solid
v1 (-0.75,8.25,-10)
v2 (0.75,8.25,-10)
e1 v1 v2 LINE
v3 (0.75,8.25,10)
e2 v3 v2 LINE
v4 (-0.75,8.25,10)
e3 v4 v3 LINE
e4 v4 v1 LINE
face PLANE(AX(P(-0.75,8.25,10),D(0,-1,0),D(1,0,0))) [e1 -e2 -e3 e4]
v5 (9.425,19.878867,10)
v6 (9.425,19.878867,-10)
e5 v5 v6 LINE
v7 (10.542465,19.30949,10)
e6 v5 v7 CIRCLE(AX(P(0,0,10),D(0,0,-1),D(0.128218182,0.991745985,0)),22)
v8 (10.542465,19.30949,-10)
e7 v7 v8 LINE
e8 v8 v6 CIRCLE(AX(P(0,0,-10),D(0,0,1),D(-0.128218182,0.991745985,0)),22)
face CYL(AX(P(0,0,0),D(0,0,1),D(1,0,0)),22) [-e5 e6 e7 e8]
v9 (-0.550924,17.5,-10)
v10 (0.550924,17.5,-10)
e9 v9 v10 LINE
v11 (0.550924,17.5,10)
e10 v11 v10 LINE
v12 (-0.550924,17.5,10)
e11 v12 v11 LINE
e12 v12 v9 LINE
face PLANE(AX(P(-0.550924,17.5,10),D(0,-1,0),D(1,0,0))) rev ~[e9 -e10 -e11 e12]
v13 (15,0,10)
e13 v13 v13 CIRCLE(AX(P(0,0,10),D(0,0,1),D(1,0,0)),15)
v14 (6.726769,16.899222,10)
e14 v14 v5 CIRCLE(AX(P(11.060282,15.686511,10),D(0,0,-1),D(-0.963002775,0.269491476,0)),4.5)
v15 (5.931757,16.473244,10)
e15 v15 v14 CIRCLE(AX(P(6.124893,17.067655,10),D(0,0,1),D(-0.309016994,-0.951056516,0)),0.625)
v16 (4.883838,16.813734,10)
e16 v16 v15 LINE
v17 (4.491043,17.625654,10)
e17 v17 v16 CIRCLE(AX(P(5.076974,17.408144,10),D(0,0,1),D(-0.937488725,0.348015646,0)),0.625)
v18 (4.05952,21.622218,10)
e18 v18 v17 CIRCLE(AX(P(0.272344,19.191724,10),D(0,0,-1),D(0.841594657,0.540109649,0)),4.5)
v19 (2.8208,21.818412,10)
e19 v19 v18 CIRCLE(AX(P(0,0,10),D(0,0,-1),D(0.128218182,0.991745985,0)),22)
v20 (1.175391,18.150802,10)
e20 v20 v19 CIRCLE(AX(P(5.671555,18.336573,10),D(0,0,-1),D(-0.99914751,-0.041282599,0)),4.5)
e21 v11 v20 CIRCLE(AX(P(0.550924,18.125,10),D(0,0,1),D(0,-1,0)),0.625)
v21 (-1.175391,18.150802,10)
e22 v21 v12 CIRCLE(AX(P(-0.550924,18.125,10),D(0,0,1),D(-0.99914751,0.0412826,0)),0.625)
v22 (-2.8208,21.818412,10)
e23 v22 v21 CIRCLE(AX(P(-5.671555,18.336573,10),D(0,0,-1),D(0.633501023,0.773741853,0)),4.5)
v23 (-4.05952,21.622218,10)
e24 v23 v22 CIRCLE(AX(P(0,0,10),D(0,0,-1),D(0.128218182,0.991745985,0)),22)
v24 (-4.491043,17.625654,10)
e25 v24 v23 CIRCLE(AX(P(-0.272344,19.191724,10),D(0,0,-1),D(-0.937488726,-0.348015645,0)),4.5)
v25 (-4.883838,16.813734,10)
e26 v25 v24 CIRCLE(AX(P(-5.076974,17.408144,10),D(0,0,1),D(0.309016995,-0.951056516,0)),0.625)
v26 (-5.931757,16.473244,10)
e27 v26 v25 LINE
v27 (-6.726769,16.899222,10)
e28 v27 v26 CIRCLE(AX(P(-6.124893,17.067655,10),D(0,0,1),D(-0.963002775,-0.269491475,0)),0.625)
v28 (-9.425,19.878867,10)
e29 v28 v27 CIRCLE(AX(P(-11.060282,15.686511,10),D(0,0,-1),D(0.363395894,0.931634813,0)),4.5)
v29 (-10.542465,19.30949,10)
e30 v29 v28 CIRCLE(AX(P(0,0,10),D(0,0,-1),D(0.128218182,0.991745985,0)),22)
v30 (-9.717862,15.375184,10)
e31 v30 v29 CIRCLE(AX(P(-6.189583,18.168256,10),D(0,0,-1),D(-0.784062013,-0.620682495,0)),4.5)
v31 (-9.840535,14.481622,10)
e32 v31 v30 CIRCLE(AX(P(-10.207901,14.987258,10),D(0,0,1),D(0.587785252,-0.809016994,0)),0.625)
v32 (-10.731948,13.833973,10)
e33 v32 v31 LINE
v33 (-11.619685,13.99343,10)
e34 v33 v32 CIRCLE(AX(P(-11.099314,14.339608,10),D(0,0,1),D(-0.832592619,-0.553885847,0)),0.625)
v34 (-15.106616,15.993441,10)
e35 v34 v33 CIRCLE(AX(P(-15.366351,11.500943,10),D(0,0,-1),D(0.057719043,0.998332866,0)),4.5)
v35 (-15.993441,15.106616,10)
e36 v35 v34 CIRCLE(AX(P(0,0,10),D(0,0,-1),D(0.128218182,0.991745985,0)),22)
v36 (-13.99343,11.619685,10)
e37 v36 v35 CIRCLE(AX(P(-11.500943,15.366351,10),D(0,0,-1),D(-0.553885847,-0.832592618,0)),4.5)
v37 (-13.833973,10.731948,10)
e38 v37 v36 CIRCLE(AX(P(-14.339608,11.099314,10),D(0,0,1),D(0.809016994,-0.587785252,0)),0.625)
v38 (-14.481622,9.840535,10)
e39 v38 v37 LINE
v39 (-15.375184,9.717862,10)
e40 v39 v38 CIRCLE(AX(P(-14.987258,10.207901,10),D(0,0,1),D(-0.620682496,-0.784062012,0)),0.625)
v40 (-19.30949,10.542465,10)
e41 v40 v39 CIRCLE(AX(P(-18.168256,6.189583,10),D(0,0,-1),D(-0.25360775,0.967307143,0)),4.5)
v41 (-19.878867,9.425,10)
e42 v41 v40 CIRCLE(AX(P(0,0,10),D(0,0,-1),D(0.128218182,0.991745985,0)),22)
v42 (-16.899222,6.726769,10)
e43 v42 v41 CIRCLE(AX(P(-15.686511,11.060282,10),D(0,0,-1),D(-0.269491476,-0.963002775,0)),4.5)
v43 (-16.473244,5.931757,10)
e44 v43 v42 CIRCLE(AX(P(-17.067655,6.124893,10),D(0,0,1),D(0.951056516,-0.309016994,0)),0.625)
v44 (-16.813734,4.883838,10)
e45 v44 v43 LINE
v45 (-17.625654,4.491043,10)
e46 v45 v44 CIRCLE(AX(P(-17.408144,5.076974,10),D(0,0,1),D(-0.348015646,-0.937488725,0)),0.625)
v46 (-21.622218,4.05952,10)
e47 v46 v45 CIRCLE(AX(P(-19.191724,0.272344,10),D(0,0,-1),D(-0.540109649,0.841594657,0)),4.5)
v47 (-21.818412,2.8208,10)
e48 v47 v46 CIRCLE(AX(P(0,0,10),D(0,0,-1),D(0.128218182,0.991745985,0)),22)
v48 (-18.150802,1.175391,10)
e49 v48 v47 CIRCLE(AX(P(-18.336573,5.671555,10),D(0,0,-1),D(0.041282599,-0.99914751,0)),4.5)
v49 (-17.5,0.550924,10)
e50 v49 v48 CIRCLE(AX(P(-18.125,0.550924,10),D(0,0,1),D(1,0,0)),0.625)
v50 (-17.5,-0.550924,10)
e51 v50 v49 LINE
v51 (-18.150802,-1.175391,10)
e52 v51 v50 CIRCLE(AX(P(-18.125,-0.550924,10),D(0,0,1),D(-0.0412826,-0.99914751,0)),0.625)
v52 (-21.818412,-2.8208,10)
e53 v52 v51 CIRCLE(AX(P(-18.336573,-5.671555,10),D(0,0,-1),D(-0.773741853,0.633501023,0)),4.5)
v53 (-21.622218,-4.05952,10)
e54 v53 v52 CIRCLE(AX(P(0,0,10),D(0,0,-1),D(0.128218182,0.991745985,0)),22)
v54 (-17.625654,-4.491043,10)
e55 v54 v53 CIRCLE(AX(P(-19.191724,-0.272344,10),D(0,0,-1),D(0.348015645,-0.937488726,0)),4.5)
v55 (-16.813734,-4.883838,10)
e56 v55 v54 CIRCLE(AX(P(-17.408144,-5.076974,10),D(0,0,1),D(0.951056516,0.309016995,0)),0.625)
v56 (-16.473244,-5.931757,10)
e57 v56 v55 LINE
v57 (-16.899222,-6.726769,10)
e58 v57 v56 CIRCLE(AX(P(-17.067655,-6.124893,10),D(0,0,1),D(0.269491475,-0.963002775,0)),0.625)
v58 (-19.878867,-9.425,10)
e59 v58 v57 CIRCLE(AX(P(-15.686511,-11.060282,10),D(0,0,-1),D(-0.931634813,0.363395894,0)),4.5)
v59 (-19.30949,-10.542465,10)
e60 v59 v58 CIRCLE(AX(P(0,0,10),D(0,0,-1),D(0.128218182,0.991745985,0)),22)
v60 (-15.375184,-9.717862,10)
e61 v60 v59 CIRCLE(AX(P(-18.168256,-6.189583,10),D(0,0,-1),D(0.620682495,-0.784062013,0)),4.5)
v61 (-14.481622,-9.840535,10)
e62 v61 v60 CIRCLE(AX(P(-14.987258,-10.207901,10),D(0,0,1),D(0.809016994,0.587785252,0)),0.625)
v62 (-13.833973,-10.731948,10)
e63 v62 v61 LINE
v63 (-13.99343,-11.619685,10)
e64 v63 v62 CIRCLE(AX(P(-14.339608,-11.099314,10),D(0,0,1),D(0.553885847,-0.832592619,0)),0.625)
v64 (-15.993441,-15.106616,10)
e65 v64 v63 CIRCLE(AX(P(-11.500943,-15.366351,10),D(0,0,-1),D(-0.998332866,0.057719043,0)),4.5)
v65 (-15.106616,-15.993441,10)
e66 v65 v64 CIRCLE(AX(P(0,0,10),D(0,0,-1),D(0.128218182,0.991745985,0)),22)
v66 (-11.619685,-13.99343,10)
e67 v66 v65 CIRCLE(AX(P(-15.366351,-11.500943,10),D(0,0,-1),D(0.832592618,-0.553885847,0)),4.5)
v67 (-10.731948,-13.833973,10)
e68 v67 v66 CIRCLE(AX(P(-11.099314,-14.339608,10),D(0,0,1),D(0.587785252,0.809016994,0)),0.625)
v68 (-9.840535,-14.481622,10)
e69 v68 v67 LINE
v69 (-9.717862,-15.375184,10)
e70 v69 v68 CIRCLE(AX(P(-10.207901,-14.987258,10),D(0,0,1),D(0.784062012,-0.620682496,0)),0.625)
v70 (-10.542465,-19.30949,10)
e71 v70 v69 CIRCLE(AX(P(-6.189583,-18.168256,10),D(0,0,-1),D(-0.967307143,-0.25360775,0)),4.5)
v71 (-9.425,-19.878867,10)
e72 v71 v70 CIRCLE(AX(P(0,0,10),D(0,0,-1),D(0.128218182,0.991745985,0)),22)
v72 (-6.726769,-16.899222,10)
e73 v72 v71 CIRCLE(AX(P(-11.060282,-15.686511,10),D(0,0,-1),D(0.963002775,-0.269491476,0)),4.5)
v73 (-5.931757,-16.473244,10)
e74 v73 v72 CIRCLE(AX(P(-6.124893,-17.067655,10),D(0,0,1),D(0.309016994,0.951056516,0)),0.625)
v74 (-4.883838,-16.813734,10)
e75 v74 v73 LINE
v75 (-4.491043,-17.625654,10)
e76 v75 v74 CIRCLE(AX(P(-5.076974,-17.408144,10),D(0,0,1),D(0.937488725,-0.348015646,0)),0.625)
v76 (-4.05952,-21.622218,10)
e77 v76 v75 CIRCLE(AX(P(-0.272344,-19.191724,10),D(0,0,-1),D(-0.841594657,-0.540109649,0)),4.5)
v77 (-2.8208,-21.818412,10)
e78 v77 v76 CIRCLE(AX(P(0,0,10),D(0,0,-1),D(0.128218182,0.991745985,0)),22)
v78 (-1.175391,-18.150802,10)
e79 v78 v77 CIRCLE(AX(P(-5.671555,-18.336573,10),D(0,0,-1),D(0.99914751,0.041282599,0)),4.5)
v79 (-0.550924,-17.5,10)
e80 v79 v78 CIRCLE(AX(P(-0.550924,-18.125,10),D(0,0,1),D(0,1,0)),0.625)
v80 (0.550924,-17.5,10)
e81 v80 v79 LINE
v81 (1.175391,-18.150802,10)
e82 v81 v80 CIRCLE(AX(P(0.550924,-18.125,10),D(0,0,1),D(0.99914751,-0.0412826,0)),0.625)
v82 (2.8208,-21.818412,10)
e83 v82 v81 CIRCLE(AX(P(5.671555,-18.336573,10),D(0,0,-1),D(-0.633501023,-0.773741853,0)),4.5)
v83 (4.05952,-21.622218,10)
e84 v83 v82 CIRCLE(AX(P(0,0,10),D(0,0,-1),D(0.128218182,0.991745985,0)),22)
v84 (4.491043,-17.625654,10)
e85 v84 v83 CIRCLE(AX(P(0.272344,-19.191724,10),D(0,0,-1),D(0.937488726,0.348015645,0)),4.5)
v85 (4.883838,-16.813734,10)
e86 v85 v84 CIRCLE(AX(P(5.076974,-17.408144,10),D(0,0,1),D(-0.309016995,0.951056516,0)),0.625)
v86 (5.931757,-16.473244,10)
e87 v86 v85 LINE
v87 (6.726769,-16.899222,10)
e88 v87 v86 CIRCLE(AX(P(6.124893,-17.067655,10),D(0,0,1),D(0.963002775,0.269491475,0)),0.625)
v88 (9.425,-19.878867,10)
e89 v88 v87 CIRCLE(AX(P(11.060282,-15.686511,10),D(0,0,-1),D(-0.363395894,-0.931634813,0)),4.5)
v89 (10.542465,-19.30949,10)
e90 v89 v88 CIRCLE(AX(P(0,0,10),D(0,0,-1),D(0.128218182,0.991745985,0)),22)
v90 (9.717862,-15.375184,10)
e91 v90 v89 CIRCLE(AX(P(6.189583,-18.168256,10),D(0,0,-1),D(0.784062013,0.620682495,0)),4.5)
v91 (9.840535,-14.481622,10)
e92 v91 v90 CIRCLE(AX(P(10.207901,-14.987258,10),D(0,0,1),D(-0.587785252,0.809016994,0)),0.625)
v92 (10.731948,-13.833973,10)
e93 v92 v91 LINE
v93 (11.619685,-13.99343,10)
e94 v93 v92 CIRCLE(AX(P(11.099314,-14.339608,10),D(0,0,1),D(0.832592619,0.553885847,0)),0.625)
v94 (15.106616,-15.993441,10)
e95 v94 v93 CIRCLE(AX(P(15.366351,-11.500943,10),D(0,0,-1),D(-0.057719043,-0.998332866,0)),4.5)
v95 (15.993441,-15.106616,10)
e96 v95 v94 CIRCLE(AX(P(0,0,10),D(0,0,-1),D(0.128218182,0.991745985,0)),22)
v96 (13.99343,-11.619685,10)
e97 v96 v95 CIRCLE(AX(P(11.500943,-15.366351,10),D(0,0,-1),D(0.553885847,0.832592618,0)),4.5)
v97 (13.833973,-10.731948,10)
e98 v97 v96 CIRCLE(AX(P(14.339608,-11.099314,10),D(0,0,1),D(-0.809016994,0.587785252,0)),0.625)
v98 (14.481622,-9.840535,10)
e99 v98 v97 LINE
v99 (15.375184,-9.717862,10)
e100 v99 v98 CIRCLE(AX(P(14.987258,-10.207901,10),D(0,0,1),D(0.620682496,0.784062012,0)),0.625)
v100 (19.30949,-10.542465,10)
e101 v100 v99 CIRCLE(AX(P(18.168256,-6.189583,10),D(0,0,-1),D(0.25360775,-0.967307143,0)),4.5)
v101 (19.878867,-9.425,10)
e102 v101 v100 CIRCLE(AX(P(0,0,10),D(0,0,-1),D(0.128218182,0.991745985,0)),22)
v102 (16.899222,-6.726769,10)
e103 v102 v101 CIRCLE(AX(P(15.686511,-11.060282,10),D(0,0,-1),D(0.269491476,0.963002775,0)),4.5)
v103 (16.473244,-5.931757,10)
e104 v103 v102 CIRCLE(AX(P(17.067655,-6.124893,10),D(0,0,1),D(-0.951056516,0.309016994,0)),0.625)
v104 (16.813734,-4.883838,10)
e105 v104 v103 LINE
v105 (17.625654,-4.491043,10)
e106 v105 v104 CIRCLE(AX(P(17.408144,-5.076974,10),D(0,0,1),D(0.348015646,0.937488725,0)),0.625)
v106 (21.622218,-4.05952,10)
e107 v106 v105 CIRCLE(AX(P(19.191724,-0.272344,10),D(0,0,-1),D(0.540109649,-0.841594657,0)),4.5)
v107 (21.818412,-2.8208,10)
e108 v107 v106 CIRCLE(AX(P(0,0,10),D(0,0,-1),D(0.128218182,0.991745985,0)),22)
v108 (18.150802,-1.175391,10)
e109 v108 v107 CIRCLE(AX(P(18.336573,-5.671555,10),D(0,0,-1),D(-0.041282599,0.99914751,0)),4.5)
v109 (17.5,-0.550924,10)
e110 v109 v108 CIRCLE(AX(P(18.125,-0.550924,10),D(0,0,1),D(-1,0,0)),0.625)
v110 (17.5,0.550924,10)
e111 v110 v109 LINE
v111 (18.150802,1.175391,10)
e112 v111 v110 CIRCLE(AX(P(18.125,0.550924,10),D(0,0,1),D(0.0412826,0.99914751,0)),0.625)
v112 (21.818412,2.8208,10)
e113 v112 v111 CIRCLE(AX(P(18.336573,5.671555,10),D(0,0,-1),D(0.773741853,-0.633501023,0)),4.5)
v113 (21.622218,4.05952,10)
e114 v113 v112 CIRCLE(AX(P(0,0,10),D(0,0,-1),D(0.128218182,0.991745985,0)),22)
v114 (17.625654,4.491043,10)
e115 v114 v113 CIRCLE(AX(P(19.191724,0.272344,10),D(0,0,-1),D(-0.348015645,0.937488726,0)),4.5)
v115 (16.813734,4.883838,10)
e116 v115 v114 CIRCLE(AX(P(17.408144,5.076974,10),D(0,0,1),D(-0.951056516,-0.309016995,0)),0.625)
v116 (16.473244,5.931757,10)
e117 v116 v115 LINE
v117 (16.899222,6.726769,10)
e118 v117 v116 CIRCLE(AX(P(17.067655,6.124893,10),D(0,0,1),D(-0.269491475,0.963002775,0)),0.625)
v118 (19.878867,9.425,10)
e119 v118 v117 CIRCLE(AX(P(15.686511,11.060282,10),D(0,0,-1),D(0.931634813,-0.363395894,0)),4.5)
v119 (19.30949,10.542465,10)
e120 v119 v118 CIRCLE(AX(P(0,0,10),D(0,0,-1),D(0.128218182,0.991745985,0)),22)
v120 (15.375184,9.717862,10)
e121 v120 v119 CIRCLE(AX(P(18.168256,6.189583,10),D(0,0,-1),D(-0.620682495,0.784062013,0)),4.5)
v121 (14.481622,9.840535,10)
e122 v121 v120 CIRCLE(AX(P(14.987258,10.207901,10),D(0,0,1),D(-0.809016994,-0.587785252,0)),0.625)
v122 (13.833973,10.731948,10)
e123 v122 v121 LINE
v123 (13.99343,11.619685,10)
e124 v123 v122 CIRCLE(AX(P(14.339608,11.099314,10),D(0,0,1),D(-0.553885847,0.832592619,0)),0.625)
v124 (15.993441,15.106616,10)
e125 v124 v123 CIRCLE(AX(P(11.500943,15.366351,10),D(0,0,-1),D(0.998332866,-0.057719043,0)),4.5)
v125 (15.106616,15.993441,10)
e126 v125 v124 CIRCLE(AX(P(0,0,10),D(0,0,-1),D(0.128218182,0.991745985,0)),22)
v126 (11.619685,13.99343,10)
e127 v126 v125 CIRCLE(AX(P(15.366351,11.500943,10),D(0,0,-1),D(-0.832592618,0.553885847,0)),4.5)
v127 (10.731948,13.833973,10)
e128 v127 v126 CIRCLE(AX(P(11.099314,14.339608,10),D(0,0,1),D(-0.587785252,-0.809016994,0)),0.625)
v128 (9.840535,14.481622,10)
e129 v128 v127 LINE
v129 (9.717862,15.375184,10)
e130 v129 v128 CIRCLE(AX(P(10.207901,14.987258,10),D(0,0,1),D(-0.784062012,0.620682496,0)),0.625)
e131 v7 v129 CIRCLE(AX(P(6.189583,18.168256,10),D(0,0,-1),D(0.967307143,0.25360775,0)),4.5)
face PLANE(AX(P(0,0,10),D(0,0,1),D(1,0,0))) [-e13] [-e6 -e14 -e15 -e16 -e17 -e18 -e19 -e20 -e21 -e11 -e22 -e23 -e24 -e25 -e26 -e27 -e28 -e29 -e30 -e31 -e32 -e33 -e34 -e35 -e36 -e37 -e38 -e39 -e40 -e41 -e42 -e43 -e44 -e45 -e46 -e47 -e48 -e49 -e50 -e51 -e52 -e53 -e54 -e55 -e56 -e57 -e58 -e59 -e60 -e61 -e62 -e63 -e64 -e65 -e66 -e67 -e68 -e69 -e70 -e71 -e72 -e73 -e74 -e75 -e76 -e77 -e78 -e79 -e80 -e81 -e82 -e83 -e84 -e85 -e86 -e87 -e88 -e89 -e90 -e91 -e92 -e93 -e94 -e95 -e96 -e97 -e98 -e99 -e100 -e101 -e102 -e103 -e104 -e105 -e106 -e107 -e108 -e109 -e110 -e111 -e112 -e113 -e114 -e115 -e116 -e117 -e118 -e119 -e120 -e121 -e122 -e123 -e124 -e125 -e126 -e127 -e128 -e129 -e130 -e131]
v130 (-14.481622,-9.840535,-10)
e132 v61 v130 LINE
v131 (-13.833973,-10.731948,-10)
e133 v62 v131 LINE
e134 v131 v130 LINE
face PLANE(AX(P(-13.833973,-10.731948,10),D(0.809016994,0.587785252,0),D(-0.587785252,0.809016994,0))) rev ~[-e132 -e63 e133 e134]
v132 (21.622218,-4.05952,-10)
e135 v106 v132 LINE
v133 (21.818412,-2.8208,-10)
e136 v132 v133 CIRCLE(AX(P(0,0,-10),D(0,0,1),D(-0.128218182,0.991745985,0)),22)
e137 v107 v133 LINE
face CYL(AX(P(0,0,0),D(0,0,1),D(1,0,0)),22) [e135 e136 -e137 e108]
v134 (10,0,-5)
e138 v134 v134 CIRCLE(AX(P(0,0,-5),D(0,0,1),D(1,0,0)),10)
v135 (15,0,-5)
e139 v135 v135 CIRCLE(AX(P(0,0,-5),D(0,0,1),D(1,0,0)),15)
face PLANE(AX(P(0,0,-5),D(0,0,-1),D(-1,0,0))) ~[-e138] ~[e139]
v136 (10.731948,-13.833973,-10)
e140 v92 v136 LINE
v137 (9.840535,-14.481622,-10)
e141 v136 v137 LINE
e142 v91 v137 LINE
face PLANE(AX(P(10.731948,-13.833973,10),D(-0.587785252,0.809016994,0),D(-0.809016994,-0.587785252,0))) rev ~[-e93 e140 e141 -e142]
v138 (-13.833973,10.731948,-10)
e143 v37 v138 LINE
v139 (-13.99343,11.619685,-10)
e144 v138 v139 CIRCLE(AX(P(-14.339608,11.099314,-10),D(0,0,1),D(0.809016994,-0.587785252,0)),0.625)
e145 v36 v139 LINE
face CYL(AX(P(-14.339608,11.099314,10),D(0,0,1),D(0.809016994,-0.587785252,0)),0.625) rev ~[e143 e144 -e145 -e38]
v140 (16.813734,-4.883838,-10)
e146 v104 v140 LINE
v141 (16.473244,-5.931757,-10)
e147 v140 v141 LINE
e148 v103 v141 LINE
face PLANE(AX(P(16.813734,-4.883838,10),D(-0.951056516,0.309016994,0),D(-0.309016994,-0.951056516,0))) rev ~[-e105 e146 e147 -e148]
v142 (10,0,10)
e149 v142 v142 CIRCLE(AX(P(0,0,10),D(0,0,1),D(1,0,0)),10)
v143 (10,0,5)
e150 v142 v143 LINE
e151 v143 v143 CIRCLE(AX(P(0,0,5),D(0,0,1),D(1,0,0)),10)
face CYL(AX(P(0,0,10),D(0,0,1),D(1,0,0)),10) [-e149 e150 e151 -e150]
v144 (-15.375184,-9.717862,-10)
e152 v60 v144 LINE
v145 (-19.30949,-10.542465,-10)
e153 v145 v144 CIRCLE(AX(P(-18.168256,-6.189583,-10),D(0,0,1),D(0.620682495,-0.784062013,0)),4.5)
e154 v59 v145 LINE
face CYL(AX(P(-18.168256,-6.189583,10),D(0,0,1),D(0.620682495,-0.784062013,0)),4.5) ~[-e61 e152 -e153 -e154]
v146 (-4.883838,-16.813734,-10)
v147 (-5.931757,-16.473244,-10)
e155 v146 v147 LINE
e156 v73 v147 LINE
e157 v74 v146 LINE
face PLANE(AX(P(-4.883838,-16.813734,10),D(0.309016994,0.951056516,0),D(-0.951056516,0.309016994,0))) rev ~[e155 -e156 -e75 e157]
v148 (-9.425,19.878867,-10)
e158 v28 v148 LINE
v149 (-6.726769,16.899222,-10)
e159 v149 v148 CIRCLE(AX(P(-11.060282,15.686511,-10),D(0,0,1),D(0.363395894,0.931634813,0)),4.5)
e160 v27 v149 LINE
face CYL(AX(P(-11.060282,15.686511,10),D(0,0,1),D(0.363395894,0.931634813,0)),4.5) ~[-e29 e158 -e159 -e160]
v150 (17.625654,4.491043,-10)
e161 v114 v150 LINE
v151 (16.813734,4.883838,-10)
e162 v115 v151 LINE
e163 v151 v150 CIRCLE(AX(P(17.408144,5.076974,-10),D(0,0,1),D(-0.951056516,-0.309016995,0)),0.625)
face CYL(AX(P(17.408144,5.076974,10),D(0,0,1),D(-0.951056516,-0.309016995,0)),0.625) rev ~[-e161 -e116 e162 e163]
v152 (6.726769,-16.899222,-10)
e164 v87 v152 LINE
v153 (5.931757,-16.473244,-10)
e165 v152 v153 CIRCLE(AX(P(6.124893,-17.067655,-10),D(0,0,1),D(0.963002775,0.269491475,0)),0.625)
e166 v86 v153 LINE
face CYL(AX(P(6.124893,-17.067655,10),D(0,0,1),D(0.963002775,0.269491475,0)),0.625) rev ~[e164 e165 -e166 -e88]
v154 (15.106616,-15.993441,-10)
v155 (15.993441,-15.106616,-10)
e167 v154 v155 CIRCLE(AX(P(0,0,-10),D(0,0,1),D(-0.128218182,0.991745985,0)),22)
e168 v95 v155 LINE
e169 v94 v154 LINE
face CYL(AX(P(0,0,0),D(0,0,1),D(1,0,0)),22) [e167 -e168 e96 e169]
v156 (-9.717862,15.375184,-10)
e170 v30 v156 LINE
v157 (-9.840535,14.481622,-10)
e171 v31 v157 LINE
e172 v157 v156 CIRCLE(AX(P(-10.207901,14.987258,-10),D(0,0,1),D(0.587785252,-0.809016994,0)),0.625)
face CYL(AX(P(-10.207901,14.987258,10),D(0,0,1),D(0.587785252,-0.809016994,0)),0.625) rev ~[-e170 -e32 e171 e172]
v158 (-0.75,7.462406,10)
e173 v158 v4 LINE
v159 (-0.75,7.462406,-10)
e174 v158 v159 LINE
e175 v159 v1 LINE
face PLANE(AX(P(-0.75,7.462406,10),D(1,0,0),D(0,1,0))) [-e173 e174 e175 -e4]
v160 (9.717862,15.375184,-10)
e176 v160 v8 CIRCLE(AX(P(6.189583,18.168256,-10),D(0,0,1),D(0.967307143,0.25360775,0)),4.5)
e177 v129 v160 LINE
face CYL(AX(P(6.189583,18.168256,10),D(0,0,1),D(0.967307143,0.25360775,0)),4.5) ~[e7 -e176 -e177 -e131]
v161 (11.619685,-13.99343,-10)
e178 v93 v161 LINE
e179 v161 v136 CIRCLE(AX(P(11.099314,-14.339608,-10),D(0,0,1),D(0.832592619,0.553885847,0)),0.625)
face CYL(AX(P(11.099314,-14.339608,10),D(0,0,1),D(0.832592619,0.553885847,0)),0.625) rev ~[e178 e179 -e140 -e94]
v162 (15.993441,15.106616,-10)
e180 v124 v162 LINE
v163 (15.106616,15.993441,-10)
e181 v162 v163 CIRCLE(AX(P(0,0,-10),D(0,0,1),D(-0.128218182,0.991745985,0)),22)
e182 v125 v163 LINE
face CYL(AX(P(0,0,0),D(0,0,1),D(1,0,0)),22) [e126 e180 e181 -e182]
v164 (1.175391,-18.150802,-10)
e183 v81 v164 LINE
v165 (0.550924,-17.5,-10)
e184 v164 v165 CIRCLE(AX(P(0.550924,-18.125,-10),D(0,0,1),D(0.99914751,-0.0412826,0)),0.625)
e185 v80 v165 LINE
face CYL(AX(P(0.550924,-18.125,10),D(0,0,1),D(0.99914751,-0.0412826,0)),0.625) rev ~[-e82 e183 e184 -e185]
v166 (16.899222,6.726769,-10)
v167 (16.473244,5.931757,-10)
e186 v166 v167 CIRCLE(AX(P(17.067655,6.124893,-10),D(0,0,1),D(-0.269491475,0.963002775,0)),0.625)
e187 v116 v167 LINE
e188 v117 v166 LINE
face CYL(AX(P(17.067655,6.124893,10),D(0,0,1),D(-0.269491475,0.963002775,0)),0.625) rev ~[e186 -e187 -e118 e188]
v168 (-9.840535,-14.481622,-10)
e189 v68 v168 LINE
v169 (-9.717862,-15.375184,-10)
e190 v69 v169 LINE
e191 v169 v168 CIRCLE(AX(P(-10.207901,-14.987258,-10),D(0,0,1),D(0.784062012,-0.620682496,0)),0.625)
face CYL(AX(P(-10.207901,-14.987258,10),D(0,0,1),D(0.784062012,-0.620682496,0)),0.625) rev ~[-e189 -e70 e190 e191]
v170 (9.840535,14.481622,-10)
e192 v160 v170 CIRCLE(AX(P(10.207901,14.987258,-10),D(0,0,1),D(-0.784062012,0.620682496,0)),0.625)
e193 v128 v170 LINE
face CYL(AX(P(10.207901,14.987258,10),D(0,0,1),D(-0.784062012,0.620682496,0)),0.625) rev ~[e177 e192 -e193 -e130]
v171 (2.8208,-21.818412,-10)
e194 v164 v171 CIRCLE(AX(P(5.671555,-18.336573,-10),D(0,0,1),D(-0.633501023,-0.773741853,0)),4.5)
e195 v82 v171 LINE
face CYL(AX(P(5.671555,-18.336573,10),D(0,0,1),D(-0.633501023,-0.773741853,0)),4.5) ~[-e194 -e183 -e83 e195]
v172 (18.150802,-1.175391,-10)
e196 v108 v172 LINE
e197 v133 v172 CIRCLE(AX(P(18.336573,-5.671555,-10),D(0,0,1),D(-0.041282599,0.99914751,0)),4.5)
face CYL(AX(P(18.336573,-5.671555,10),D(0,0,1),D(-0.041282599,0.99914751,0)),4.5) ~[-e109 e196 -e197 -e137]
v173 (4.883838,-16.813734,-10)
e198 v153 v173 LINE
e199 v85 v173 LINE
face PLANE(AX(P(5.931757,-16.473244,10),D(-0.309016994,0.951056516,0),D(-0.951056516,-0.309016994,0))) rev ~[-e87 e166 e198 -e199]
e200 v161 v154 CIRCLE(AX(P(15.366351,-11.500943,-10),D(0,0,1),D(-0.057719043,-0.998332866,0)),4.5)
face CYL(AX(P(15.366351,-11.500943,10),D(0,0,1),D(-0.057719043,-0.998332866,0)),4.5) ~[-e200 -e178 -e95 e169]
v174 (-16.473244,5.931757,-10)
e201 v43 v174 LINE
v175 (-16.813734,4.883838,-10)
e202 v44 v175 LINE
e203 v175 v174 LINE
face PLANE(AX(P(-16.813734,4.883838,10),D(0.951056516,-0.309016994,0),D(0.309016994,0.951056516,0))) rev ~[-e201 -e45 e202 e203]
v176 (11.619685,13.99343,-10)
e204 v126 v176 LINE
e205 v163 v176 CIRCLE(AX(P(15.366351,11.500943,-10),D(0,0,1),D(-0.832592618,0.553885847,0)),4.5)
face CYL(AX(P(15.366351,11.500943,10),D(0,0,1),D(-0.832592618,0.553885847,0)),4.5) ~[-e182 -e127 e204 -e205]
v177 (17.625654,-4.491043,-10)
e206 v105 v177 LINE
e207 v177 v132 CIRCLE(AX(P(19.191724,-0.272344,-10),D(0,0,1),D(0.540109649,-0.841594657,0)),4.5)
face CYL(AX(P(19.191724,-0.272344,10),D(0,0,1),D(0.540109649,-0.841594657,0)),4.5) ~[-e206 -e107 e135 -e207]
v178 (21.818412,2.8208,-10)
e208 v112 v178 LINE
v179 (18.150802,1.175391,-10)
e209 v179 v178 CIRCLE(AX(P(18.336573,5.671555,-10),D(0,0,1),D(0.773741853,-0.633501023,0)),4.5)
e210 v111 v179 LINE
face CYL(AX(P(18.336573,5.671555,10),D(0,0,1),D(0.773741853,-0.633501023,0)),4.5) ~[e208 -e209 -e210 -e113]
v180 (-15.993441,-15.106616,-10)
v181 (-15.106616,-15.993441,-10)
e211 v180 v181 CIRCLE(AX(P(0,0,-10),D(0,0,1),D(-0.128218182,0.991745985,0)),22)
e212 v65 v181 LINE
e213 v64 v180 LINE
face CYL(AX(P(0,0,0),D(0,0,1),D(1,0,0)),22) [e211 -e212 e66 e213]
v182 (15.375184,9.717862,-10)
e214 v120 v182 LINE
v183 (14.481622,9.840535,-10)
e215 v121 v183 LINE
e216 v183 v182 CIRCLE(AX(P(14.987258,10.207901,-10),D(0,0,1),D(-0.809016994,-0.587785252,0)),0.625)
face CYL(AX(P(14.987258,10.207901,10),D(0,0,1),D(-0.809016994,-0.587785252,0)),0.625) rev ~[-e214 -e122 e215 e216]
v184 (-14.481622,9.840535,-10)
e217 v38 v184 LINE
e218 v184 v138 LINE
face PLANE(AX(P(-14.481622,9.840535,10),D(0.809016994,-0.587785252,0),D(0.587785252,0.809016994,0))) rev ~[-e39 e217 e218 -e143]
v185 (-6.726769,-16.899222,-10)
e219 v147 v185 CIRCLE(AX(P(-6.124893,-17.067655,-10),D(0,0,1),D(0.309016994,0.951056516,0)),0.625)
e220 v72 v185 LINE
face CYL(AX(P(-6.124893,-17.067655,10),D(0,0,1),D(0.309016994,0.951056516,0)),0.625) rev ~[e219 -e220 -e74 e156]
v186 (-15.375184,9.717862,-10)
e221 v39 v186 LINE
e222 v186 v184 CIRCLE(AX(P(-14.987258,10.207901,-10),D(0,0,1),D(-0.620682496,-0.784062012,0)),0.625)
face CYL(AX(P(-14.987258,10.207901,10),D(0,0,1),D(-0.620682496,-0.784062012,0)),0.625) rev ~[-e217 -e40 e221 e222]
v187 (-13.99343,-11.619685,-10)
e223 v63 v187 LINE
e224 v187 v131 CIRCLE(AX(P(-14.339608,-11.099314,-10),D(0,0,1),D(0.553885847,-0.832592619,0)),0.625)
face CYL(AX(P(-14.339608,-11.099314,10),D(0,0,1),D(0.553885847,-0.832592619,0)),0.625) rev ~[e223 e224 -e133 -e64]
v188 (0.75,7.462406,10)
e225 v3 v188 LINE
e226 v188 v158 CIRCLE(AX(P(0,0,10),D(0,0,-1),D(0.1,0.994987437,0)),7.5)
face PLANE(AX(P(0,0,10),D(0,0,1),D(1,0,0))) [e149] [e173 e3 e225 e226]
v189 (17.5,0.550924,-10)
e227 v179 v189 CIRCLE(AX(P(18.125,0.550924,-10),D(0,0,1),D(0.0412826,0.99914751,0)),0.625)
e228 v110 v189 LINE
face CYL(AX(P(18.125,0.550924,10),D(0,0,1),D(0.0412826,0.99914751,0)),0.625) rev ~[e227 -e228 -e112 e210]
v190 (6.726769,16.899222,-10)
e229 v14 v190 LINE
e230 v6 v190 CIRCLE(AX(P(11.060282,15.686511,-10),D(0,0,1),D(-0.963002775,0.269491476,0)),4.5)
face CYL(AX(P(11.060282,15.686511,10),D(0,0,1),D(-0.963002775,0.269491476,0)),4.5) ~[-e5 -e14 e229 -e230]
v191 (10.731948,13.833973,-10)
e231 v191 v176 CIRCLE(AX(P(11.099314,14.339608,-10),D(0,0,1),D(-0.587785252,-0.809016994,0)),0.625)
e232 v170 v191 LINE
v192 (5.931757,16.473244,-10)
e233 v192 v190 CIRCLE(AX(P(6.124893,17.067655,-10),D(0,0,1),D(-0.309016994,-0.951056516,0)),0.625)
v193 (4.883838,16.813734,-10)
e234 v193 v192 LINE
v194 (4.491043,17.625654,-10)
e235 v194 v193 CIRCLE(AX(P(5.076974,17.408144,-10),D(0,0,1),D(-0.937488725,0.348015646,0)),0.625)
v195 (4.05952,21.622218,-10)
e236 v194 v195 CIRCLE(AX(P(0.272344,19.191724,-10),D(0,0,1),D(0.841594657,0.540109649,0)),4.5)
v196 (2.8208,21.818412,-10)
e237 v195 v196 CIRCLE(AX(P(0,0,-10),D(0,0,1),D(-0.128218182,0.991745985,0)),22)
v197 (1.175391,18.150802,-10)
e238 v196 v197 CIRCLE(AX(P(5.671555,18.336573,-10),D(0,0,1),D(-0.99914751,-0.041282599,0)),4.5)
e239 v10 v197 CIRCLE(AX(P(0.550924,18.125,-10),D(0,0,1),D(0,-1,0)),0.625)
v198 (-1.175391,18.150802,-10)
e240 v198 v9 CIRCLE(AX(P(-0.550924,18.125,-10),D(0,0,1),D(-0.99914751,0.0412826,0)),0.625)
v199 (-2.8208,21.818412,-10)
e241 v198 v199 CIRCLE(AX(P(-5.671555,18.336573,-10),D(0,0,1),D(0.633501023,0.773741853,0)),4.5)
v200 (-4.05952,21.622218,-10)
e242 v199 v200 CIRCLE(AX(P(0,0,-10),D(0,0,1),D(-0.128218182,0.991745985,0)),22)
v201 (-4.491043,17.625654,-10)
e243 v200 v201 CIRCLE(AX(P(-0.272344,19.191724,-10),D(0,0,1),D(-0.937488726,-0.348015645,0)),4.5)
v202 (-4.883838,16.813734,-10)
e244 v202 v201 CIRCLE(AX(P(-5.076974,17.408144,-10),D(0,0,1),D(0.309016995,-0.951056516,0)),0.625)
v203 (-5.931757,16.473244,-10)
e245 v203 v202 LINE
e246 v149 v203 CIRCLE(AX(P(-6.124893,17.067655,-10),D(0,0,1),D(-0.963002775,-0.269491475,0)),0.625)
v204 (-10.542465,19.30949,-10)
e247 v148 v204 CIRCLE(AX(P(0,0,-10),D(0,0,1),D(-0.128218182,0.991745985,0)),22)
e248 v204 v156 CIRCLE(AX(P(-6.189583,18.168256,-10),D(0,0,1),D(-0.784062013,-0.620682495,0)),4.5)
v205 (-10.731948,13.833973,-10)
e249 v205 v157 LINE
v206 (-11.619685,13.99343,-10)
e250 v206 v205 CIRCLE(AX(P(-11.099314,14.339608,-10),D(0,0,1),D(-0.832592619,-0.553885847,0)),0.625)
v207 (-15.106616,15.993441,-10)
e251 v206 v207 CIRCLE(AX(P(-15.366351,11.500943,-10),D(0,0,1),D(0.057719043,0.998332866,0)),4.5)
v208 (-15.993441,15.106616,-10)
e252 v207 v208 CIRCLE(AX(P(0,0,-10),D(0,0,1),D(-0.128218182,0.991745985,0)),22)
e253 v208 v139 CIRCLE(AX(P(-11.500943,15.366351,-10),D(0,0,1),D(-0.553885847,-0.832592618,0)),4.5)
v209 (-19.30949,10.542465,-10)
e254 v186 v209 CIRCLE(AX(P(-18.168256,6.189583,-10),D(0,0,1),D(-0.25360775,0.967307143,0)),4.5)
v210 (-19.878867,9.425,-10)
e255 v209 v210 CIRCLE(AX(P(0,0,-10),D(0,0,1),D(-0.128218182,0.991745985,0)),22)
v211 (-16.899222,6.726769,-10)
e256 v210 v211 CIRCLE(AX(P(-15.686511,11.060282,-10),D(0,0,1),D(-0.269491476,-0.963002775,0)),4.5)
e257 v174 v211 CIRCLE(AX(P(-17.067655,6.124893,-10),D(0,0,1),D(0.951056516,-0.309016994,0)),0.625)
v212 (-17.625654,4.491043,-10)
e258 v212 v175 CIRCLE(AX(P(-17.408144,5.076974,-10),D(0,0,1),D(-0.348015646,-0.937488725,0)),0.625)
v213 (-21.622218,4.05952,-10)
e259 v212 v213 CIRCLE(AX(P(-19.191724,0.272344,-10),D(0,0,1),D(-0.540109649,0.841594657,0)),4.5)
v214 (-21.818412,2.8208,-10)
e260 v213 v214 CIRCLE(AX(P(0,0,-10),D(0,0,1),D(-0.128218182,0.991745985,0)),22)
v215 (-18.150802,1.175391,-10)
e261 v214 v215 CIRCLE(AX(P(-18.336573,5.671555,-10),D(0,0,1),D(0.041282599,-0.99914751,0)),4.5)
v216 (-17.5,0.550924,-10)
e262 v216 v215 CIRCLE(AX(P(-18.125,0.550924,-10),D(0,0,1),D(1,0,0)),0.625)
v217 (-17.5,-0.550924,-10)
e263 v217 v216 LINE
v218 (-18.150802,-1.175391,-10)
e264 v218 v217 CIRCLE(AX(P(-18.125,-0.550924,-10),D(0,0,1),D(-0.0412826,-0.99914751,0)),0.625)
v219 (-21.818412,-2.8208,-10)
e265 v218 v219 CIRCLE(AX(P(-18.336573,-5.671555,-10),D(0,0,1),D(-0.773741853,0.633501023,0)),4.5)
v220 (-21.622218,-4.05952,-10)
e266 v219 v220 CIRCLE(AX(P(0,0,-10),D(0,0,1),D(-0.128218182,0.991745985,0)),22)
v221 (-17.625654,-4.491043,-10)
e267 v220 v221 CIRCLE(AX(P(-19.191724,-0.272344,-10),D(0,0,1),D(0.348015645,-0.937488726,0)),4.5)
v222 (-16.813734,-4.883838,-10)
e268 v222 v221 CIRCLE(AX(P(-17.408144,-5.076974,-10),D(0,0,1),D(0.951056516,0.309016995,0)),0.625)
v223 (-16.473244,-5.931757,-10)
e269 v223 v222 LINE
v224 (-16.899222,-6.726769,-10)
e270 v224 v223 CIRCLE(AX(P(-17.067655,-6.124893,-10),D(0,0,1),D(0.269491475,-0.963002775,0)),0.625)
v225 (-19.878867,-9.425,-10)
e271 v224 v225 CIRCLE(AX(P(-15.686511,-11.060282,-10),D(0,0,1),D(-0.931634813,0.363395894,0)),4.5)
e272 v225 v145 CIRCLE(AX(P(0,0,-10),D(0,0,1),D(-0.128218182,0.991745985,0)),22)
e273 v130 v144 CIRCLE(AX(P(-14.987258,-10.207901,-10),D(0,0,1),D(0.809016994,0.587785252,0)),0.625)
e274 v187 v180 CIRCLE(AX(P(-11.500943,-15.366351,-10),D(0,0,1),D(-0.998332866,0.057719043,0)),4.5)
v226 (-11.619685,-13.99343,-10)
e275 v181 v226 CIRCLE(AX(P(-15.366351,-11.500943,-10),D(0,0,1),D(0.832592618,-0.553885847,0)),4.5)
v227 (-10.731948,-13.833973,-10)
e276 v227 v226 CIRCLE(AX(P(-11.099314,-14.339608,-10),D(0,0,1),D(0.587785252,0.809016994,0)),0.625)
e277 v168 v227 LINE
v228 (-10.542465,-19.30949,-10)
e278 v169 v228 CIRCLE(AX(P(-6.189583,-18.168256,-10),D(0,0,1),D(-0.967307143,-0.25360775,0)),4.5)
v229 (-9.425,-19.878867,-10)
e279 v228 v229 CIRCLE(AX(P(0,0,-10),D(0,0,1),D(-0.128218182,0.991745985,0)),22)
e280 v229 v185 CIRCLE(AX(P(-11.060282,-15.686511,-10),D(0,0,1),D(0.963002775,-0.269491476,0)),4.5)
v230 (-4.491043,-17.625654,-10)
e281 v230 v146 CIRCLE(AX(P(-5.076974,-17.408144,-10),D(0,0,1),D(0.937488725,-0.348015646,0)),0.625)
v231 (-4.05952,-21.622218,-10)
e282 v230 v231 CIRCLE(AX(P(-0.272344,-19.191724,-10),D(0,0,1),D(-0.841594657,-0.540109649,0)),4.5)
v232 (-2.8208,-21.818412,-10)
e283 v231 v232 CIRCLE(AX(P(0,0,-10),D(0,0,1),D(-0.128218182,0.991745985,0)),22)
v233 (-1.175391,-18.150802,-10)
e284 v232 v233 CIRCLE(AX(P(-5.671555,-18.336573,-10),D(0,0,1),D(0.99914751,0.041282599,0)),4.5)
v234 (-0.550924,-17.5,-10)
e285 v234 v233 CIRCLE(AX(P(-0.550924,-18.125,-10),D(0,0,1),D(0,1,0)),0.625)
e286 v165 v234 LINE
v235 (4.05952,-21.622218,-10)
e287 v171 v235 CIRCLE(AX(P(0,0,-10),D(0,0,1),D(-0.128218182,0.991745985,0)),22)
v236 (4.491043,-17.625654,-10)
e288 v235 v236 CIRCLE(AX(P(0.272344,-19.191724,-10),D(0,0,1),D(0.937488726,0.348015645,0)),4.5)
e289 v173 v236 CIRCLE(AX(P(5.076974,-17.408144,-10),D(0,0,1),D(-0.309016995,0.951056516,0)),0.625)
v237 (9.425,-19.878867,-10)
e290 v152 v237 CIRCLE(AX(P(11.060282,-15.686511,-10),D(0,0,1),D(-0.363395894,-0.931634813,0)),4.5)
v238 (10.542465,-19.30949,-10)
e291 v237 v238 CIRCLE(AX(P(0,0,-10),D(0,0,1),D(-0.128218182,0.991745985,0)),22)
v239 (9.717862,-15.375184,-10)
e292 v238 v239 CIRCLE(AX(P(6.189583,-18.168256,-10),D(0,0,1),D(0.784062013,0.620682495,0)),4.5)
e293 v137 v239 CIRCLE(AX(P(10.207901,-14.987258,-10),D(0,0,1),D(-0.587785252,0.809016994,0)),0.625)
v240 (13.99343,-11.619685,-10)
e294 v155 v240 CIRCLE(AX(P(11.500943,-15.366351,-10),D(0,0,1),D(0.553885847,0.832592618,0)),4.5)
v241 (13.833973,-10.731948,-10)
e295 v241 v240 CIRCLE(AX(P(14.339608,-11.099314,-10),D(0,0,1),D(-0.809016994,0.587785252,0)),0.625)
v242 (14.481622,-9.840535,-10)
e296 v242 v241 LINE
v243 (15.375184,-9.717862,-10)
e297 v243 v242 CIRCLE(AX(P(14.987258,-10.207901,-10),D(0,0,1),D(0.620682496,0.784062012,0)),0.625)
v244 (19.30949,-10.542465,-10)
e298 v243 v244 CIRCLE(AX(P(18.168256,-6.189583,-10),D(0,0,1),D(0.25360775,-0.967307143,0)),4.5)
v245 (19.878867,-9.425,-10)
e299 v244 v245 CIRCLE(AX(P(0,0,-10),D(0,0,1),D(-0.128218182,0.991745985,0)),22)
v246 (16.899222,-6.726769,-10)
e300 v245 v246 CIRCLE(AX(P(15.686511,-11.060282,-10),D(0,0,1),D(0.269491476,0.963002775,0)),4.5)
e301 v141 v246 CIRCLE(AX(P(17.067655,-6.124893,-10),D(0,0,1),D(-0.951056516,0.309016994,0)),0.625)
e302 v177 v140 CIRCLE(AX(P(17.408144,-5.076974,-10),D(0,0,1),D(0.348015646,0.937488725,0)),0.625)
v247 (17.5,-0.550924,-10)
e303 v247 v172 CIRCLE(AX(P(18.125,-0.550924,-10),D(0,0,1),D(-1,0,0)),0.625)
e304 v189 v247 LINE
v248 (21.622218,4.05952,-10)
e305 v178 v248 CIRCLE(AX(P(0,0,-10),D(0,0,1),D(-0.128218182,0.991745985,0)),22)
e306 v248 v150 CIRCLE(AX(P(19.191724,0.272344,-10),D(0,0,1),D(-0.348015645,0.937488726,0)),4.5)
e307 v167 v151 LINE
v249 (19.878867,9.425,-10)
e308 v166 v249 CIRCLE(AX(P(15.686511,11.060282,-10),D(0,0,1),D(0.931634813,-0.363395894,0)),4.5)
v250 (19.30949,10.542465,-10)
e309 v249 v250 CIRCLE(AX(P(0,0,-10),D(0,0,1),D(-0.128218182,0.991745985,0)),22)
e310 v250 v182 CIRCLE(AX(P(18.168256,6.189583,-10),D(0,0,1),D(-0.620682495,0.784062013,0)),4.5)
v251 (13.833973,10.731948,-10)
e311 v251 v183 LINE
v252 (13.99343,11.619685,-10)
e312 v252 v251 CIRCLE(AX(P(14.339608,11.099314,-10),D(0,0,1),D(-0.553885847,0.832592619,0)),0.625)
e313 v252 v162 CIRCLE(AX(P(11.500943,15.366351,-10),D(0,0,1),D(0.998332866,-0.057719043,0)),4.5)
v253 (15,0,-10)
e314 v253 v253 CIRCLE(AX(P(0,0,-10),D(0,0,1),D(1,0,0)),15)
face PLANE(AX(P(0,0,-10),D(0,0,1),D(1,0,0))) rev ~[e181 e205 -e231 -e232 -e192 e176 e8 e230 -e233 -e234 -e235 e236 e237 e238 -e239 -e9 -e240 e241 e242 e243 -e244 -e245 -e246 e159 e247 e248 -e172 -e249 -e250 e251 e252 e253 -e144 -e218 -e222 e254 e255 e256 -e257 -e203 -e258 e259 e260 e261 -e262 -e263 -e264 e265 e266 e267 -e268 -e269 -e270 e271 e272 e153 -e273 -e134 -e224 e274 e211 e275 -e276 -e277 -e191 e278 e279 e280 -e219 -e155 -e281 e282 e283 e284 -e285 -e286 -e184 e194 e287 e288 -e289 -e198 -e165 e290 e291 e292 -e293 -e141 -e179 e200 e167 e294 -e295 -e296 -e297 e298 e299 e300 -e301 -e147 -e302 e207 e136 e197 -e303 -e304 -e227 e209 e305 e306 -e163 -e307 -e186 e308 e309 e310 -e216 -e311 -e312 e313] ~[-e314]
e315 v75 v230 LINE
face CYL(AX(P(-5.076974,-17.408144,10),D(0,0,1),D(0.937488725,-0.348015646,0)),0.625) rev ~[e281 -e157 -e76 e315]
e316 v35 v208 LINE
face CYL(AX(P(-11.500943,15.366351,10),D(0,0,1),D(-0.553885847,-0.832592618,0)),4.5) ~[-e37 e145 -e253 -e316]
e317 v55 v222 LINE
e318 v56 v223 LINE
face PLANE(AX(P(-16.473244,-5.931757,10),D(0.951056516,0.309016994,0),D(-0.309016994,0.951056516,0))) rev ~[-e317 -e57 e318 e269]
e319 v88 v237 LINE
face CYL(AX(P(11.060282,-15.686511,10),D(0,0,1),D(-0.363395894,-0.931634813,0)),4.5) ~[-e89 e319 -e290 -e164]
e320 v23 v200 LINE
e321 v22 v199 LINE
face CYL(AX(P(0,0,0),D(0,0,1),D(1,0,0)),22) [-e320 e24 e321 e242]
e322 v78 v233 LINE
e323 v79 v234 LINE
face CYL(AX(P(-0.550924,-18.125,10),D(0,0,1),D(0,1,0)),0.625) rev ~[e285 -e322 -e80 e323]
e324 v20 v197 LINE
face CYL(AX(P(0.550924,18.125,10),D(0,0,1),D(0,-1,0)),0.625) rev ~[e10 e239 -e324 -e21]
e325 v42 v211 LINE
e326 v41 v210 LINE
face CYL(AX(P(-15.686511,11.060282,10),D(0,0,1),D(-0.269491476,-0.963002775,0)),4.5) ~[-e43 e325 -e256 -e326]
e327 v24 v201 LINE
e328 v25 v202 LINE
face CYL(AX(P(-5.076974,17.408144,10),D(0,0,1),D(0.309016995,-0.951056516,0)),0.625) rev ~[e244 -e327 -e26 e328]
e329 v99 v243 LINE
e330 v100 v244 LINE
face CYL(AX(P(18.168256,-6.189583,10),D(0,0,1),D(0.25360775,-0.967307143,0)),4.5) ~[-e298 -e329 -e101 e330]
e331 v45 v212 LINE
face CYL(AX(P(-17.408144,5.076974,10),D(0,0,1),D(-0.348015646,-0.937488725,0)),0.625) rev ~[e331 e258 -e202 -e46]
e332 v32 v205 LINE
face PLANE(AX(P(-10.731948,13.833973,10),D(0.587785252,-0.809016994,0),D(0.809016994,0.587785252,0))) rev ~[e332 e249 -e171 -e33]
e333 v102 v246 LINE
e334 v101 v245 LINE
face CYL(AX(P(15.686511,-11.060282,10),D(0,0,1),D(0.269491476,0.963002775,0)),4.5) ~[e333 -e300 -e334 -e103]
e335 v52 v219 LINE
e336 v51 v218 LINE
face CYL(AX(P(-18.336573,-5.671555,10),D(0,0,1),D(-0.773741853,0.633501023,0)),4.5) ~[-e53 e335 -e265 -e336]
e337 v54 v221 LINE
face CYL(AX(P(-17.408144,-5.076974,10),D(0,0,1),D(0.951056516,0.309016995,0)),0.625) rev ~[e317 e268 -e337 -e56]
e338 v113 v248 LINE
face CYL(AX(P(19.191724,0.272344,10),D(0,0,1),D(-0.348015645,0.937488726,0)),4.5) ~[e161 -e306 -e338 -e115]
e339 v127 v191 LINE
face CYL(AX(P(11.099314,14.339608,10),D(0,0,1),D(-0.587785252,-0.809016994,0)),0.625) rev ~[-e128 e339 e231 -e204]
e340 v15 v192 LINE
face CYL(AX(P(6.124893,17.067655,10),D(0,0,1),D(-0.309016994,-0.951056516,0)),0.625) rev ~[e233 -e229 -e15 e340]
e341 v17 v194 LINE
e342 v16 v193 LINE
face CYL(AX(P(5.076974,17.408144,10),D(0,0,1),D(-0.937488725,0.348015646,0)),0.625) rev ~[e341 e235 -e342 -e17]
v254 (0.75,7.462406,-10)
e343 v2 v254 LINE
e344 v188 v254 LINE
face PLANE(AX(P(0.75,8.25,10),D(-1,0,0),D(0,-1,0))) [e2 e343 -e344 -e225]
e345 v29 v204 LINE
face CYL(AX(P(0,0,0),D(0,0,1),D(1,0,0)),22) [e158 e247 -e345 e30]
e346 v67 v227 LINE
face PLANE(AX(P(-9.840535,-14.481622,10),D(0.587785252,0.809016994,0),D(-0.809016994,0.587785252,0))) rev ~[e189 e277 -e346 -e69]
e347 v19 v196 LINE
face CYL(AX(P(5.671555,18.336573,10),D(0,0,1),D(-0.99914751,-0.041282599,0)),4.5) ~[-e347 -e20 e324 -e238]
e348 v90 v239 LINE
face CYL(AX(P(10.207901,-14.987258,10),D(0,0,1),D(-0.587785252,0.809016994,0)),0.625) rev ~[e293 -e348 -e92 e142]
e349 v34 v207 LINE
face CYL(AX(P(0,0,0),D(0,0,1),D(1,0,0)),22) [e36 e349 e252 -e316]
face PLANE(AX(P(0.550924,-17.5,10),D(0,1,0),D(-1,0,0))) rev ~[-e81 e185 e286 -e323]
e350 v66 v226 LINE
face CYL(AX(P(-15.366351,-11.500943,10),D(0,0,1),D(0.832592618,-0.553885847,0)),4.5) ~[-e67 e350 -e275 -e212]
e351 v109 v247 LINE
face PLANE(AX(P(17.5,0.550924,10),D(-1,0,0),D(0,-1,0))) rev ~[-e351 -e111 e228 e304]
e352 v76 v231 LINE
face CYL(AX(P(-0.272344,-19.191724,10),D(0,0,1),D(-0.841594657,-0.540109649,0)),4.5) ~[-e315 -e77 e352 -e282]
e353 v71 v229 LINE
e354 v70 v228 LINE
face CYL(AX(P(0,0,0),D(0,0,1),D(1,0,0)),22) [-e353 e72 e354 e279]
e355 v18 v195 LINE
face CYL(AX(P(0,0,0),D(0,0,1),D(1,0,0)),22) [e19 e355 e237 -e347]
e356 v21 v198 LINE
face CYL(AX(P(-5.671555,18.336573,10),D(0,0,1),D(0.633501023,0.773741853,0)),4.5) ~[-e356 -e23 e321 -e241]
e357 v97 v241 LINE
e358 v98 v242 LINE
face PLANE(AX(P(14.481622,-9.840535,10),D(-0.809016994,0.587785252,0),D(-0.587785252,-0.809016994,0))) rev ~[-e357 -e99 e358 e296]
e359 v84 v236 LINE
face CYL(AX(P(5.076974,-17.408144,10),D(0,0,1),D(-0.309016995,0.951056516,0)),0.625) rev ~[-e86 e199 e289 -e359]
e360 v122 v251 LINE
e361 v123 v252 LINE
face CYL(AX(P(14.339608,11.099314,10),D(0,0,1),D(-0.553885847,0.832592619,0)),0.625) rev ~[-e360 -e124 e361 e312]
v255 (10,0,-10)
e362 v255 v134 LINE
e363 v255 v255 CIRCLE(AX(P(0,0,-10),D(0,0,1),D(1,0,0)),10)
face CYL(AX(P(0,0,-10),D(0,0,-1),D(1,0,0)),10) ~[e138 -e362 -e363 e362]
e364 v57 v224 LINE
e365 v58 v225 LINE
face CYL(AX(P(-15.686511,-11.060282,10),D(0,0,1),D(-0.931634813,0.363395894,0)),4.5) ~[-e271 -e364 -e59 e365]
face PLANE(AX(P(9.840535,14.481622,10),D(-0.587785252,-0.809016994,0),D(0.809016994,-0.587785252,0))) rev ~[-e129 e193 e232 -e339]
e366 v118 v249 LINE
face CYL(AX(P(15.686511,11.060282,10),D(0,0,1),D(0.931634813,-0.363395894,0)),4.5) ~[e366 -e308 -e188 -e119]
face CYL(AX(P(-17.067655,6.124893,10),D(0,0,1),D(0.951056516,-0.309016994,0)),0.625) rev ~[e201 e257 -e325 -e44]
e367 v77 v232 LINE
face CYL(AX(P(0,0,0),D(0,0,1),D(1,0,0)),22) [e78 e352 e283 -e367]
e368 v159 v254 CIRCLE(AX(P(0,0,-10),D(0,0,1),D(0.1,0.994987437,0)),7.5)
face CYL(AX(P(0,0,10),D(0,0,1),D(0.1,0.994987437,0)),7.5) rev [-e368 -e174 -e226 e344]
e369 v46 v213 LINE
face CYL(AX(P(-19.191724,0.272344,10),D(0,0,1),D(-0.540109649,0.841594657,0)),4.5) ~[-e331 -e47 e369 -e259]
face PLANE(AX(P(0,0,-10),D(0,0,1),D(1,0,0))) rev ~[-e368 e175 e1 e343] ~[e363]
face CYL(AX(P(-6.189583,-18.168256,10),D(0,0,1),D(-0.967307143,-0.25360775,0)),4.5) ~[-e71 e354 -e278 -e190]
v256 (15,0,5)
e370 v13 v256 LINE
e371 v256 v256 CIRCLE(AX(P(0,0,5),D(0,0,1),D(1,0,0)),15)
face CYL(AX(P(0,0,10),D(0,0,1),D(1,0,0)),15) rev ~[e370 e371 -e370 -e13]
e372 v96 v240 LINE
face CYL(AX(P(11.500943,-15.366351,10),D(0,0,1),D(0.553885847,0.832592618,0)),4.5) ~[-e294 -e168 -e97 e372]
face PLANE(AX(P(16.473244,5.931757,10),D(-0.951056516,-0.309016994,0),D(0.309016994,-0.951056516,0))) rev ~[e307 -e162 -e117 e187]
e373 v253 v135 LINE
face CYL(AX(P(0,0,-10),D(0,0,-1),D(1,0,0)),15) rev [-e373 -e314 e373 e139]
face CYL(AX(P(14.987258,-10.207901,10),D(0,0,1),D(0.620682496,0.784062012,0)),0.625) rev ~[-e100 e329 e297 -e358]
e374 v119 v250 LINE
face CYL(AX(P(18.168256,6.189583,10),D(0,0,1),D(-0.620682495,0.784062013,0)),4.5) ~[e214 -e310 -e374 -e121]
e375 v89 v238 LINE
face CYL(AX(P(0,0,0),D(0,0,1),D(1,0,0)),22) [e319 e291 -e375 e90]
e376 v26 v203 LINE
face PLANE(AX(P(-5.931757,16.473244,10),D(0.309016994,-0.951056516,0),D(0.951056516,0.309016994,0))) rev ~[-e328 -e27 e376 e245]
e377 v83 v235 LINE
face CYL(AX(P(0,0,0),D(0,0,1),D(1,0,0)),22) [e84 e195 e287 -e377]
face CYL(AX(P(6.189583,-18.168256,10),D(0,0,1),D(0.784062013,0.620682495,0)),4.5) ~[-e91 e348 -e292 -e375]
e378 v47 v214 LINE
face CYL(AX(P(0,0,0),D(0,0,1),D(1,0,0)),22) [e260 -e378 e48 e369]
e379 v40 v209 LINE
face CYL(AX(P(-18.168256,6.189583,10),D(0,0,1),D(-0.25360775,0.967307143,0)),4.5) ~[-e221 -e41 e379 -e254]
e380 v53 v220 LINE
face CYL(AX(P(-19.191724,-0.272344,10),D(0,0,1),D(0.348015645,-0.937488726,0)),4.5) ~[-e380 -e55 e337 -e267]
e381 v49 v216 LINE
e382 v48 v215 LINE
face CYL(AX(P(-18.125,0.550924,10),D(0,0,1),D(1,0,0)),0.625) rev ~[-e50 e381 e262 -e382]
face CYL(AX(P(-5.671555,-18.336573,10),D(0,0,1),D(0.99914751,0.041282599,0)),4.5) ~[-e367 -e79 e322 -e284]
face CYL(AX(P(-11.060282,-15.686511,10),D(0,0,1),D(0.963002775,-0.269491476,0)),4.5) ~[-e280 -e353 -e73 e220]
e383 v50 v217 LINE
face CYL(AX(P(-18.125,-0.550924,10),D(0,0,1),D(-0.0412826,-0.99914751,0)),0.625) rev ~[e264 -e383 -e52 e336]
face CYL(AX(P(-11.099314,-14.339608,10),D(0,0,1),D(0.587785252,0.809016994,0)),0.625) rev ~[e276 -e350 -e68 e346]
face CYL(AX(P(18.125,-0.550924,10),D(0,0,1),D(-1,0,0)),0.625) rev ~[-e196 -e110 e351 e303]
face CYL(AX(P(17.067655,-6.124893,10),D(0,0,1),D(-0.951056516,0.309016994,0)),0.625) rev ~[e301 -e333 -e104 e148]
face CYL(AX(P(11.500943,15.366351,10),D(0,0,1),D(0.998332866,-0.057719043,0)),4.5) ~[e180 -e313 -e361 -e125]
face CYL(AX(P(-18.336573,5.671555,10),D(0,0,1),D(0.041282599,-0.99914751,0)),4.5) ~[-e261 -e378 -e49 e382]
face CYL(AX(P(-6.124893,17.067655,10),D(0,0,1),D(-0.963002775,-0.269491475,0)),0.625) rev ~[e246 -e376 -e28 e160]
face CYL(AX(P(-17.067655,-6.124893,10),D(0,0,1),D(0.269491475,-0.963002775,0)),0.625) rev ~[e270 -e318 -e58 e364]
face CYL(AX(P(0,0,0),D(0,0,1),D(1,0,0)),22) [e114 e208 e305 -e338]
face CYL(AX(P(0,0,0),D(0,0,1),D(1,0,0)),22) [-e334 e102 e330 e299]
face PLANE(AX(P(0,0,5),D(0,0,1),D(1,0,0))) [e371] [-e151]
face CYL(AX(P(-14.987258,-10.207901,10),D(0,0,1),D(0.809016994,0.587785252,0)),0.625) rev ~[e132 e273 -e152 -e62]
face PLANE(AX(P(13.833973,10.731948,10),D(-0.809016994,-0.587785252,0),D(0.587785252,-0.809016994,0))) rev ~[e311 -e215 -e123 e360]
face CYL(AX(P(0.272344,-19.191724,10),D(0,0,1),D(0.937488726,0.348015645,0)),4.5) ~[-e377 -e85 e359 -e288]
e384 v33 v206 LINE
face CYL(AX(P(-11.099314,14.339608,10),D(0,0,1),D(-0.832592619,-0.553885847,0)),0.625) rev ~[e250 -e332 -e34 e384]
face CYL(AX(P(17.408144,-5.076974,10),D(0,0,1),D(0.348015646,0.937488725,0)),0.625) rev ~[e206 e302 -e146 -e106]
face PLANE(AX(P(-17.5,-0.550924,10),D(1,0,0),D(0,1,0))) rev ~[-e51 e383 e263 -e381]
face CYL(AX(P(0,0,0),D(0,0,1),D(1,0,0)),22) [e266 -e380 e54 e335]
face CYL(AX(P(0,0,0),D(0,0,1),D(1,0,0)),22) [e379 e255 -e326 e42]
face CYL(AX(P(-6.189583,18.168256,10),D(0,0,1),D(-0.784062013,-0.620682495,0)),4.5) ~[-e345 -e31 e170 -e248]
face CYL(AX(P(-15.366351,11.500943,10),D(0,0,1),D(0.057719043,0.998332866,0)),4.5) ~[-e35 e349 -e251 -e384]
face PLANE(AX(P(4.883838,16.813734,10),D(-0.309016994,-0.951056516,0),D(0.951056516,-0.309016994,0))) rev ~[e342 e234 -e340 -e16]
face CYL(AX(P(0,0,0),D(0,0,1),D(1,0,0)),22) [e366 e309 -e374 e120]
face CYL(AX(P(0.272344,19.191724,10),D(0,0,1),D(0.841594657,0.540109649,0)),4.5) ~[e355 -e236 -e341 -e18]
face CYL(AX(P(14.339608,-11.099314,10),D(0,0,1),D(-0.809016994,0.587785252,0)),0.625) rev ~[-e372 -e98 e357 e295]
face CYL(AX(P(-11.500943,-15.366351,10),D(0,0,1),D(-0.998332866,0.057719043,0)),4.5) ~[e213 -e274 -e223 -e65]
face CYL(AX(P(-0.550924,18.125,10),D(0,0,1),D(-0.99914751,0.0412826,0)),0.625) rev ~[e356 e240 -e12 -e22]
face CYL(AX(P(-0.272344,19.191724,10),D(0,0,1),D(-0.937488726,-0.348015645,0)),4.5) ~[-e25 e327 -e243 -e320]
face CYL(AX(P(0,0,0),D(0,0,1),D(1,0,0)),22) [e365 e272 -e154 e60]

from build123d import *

# Parameters (mm, degrees)
SKETCH1_R                       = 22
GEAR_PROFILE_DEPTH              = 10
TEETH_PROFILE_DEPTH             = 37.986484018
TEETH_CIRCULAR_PATTERN_COUNT    = 20
GEAR_BORE_DEPTH                 = 37.770724425
SKETCH4_R                       = 15
SKETCH4_R_2                     = 10
WEIGHT_REDUCTION_POCKET_1_DEPTH = 5


with BuildPart() as part:
    # Sketch1 → Gear Profile (new, symmetric)
    with BuildSketch(Plane.XY):
        Circle(SKETCH1_R)
    extrude(amount=GEAR_PROFILE_DEPTH, both=True)

    # Sketch2 → Teeth Profile (cut, through all)
    with BuildSketch(Plane.XY.offset(10)):
        with BuildLine():
            Line((-0.55092361, 17.5), (0.55092361, 17.5))
            ThreePointArc((0.55092361, 17.5), (1.001895347, 17.692276656), (1.175390804, 18.150801625))
            ThreePointArc((1.175390804, 18.150801625), (1.56580944, 20.17854419), (2.8208, 21.81841166))
            ThreePointArc((2.8208, 21.81841166), (0, 22), (-2.8208, 21.81841166))
            ThreePointArc((-2.8208, 21.81841166), (-1.56580944, 20.17854419), (-1.175390804, 18.150801625))
            ThreePointArc((-1.175390804, 18.150801625), (-1.001895347, 17.692276656), (-0.55092361, 17.5))
        make_face()
    teeth_profile = extrude(amount=-TEETH_PROFILE_DEPTH, mode=Mode.SUBTRACT)

    # Teeth Circular Pattern: Teeth Profile ×20 about axis
    teeth_circular_pattern_axis = Axis((0, 0, 0), (0, 0, 1))
    for i in range(1, TEETH_CIRCULAR_PATTERN_COUNT):
        add(teeth_profile.rotate(teeth_circular_pattern_axis, i * 360 / TEETH_CIRCULAR_PATTERN_COUNT), mode=Mode.SUBTRACT)

    # Sketch3 → Gear Bore (cut, through all)
    with BuildSketch(Plane.XY.offset(10)):
        with BuildLine():
            Line((-0.75, 7.462405778), (-0.75, 8.25))
            Line((-0.75, 8.25), (0.75, 8.25))
            Line((0.75, 8.25), (0.75, 7.462405778))
            ThreePointArc((0.75, 7.462405778), (0, -7.5), (-0.75, 7.462405778))
        make_face()
    extrude(amount=-GEAR_BORE_DEPTH, mode=Mode.SUBTRACT)

    # Sketch4 → Weight reduction pocket 1 (cut)
    with BuildSketch(Plane.XY.offset(10)):
        Circle(SKETCH4_R)
        Circle(SKETCH4_R_2, mode=Mode.SUBTRACT)
    weight_reduction_pocket_1 = extrude(amount=-WEIGHT_REDUCTION_POCKET_1_DEPTH, mode=Mode.SUBTRACT)

    # Weight reduction pocket 2: Weight reduction pocket 1 across plane
    add(weight_reduction_pocket_1.mirror(Plane.XY), mode=Mode.SUBTRACT)


solid = part.part
